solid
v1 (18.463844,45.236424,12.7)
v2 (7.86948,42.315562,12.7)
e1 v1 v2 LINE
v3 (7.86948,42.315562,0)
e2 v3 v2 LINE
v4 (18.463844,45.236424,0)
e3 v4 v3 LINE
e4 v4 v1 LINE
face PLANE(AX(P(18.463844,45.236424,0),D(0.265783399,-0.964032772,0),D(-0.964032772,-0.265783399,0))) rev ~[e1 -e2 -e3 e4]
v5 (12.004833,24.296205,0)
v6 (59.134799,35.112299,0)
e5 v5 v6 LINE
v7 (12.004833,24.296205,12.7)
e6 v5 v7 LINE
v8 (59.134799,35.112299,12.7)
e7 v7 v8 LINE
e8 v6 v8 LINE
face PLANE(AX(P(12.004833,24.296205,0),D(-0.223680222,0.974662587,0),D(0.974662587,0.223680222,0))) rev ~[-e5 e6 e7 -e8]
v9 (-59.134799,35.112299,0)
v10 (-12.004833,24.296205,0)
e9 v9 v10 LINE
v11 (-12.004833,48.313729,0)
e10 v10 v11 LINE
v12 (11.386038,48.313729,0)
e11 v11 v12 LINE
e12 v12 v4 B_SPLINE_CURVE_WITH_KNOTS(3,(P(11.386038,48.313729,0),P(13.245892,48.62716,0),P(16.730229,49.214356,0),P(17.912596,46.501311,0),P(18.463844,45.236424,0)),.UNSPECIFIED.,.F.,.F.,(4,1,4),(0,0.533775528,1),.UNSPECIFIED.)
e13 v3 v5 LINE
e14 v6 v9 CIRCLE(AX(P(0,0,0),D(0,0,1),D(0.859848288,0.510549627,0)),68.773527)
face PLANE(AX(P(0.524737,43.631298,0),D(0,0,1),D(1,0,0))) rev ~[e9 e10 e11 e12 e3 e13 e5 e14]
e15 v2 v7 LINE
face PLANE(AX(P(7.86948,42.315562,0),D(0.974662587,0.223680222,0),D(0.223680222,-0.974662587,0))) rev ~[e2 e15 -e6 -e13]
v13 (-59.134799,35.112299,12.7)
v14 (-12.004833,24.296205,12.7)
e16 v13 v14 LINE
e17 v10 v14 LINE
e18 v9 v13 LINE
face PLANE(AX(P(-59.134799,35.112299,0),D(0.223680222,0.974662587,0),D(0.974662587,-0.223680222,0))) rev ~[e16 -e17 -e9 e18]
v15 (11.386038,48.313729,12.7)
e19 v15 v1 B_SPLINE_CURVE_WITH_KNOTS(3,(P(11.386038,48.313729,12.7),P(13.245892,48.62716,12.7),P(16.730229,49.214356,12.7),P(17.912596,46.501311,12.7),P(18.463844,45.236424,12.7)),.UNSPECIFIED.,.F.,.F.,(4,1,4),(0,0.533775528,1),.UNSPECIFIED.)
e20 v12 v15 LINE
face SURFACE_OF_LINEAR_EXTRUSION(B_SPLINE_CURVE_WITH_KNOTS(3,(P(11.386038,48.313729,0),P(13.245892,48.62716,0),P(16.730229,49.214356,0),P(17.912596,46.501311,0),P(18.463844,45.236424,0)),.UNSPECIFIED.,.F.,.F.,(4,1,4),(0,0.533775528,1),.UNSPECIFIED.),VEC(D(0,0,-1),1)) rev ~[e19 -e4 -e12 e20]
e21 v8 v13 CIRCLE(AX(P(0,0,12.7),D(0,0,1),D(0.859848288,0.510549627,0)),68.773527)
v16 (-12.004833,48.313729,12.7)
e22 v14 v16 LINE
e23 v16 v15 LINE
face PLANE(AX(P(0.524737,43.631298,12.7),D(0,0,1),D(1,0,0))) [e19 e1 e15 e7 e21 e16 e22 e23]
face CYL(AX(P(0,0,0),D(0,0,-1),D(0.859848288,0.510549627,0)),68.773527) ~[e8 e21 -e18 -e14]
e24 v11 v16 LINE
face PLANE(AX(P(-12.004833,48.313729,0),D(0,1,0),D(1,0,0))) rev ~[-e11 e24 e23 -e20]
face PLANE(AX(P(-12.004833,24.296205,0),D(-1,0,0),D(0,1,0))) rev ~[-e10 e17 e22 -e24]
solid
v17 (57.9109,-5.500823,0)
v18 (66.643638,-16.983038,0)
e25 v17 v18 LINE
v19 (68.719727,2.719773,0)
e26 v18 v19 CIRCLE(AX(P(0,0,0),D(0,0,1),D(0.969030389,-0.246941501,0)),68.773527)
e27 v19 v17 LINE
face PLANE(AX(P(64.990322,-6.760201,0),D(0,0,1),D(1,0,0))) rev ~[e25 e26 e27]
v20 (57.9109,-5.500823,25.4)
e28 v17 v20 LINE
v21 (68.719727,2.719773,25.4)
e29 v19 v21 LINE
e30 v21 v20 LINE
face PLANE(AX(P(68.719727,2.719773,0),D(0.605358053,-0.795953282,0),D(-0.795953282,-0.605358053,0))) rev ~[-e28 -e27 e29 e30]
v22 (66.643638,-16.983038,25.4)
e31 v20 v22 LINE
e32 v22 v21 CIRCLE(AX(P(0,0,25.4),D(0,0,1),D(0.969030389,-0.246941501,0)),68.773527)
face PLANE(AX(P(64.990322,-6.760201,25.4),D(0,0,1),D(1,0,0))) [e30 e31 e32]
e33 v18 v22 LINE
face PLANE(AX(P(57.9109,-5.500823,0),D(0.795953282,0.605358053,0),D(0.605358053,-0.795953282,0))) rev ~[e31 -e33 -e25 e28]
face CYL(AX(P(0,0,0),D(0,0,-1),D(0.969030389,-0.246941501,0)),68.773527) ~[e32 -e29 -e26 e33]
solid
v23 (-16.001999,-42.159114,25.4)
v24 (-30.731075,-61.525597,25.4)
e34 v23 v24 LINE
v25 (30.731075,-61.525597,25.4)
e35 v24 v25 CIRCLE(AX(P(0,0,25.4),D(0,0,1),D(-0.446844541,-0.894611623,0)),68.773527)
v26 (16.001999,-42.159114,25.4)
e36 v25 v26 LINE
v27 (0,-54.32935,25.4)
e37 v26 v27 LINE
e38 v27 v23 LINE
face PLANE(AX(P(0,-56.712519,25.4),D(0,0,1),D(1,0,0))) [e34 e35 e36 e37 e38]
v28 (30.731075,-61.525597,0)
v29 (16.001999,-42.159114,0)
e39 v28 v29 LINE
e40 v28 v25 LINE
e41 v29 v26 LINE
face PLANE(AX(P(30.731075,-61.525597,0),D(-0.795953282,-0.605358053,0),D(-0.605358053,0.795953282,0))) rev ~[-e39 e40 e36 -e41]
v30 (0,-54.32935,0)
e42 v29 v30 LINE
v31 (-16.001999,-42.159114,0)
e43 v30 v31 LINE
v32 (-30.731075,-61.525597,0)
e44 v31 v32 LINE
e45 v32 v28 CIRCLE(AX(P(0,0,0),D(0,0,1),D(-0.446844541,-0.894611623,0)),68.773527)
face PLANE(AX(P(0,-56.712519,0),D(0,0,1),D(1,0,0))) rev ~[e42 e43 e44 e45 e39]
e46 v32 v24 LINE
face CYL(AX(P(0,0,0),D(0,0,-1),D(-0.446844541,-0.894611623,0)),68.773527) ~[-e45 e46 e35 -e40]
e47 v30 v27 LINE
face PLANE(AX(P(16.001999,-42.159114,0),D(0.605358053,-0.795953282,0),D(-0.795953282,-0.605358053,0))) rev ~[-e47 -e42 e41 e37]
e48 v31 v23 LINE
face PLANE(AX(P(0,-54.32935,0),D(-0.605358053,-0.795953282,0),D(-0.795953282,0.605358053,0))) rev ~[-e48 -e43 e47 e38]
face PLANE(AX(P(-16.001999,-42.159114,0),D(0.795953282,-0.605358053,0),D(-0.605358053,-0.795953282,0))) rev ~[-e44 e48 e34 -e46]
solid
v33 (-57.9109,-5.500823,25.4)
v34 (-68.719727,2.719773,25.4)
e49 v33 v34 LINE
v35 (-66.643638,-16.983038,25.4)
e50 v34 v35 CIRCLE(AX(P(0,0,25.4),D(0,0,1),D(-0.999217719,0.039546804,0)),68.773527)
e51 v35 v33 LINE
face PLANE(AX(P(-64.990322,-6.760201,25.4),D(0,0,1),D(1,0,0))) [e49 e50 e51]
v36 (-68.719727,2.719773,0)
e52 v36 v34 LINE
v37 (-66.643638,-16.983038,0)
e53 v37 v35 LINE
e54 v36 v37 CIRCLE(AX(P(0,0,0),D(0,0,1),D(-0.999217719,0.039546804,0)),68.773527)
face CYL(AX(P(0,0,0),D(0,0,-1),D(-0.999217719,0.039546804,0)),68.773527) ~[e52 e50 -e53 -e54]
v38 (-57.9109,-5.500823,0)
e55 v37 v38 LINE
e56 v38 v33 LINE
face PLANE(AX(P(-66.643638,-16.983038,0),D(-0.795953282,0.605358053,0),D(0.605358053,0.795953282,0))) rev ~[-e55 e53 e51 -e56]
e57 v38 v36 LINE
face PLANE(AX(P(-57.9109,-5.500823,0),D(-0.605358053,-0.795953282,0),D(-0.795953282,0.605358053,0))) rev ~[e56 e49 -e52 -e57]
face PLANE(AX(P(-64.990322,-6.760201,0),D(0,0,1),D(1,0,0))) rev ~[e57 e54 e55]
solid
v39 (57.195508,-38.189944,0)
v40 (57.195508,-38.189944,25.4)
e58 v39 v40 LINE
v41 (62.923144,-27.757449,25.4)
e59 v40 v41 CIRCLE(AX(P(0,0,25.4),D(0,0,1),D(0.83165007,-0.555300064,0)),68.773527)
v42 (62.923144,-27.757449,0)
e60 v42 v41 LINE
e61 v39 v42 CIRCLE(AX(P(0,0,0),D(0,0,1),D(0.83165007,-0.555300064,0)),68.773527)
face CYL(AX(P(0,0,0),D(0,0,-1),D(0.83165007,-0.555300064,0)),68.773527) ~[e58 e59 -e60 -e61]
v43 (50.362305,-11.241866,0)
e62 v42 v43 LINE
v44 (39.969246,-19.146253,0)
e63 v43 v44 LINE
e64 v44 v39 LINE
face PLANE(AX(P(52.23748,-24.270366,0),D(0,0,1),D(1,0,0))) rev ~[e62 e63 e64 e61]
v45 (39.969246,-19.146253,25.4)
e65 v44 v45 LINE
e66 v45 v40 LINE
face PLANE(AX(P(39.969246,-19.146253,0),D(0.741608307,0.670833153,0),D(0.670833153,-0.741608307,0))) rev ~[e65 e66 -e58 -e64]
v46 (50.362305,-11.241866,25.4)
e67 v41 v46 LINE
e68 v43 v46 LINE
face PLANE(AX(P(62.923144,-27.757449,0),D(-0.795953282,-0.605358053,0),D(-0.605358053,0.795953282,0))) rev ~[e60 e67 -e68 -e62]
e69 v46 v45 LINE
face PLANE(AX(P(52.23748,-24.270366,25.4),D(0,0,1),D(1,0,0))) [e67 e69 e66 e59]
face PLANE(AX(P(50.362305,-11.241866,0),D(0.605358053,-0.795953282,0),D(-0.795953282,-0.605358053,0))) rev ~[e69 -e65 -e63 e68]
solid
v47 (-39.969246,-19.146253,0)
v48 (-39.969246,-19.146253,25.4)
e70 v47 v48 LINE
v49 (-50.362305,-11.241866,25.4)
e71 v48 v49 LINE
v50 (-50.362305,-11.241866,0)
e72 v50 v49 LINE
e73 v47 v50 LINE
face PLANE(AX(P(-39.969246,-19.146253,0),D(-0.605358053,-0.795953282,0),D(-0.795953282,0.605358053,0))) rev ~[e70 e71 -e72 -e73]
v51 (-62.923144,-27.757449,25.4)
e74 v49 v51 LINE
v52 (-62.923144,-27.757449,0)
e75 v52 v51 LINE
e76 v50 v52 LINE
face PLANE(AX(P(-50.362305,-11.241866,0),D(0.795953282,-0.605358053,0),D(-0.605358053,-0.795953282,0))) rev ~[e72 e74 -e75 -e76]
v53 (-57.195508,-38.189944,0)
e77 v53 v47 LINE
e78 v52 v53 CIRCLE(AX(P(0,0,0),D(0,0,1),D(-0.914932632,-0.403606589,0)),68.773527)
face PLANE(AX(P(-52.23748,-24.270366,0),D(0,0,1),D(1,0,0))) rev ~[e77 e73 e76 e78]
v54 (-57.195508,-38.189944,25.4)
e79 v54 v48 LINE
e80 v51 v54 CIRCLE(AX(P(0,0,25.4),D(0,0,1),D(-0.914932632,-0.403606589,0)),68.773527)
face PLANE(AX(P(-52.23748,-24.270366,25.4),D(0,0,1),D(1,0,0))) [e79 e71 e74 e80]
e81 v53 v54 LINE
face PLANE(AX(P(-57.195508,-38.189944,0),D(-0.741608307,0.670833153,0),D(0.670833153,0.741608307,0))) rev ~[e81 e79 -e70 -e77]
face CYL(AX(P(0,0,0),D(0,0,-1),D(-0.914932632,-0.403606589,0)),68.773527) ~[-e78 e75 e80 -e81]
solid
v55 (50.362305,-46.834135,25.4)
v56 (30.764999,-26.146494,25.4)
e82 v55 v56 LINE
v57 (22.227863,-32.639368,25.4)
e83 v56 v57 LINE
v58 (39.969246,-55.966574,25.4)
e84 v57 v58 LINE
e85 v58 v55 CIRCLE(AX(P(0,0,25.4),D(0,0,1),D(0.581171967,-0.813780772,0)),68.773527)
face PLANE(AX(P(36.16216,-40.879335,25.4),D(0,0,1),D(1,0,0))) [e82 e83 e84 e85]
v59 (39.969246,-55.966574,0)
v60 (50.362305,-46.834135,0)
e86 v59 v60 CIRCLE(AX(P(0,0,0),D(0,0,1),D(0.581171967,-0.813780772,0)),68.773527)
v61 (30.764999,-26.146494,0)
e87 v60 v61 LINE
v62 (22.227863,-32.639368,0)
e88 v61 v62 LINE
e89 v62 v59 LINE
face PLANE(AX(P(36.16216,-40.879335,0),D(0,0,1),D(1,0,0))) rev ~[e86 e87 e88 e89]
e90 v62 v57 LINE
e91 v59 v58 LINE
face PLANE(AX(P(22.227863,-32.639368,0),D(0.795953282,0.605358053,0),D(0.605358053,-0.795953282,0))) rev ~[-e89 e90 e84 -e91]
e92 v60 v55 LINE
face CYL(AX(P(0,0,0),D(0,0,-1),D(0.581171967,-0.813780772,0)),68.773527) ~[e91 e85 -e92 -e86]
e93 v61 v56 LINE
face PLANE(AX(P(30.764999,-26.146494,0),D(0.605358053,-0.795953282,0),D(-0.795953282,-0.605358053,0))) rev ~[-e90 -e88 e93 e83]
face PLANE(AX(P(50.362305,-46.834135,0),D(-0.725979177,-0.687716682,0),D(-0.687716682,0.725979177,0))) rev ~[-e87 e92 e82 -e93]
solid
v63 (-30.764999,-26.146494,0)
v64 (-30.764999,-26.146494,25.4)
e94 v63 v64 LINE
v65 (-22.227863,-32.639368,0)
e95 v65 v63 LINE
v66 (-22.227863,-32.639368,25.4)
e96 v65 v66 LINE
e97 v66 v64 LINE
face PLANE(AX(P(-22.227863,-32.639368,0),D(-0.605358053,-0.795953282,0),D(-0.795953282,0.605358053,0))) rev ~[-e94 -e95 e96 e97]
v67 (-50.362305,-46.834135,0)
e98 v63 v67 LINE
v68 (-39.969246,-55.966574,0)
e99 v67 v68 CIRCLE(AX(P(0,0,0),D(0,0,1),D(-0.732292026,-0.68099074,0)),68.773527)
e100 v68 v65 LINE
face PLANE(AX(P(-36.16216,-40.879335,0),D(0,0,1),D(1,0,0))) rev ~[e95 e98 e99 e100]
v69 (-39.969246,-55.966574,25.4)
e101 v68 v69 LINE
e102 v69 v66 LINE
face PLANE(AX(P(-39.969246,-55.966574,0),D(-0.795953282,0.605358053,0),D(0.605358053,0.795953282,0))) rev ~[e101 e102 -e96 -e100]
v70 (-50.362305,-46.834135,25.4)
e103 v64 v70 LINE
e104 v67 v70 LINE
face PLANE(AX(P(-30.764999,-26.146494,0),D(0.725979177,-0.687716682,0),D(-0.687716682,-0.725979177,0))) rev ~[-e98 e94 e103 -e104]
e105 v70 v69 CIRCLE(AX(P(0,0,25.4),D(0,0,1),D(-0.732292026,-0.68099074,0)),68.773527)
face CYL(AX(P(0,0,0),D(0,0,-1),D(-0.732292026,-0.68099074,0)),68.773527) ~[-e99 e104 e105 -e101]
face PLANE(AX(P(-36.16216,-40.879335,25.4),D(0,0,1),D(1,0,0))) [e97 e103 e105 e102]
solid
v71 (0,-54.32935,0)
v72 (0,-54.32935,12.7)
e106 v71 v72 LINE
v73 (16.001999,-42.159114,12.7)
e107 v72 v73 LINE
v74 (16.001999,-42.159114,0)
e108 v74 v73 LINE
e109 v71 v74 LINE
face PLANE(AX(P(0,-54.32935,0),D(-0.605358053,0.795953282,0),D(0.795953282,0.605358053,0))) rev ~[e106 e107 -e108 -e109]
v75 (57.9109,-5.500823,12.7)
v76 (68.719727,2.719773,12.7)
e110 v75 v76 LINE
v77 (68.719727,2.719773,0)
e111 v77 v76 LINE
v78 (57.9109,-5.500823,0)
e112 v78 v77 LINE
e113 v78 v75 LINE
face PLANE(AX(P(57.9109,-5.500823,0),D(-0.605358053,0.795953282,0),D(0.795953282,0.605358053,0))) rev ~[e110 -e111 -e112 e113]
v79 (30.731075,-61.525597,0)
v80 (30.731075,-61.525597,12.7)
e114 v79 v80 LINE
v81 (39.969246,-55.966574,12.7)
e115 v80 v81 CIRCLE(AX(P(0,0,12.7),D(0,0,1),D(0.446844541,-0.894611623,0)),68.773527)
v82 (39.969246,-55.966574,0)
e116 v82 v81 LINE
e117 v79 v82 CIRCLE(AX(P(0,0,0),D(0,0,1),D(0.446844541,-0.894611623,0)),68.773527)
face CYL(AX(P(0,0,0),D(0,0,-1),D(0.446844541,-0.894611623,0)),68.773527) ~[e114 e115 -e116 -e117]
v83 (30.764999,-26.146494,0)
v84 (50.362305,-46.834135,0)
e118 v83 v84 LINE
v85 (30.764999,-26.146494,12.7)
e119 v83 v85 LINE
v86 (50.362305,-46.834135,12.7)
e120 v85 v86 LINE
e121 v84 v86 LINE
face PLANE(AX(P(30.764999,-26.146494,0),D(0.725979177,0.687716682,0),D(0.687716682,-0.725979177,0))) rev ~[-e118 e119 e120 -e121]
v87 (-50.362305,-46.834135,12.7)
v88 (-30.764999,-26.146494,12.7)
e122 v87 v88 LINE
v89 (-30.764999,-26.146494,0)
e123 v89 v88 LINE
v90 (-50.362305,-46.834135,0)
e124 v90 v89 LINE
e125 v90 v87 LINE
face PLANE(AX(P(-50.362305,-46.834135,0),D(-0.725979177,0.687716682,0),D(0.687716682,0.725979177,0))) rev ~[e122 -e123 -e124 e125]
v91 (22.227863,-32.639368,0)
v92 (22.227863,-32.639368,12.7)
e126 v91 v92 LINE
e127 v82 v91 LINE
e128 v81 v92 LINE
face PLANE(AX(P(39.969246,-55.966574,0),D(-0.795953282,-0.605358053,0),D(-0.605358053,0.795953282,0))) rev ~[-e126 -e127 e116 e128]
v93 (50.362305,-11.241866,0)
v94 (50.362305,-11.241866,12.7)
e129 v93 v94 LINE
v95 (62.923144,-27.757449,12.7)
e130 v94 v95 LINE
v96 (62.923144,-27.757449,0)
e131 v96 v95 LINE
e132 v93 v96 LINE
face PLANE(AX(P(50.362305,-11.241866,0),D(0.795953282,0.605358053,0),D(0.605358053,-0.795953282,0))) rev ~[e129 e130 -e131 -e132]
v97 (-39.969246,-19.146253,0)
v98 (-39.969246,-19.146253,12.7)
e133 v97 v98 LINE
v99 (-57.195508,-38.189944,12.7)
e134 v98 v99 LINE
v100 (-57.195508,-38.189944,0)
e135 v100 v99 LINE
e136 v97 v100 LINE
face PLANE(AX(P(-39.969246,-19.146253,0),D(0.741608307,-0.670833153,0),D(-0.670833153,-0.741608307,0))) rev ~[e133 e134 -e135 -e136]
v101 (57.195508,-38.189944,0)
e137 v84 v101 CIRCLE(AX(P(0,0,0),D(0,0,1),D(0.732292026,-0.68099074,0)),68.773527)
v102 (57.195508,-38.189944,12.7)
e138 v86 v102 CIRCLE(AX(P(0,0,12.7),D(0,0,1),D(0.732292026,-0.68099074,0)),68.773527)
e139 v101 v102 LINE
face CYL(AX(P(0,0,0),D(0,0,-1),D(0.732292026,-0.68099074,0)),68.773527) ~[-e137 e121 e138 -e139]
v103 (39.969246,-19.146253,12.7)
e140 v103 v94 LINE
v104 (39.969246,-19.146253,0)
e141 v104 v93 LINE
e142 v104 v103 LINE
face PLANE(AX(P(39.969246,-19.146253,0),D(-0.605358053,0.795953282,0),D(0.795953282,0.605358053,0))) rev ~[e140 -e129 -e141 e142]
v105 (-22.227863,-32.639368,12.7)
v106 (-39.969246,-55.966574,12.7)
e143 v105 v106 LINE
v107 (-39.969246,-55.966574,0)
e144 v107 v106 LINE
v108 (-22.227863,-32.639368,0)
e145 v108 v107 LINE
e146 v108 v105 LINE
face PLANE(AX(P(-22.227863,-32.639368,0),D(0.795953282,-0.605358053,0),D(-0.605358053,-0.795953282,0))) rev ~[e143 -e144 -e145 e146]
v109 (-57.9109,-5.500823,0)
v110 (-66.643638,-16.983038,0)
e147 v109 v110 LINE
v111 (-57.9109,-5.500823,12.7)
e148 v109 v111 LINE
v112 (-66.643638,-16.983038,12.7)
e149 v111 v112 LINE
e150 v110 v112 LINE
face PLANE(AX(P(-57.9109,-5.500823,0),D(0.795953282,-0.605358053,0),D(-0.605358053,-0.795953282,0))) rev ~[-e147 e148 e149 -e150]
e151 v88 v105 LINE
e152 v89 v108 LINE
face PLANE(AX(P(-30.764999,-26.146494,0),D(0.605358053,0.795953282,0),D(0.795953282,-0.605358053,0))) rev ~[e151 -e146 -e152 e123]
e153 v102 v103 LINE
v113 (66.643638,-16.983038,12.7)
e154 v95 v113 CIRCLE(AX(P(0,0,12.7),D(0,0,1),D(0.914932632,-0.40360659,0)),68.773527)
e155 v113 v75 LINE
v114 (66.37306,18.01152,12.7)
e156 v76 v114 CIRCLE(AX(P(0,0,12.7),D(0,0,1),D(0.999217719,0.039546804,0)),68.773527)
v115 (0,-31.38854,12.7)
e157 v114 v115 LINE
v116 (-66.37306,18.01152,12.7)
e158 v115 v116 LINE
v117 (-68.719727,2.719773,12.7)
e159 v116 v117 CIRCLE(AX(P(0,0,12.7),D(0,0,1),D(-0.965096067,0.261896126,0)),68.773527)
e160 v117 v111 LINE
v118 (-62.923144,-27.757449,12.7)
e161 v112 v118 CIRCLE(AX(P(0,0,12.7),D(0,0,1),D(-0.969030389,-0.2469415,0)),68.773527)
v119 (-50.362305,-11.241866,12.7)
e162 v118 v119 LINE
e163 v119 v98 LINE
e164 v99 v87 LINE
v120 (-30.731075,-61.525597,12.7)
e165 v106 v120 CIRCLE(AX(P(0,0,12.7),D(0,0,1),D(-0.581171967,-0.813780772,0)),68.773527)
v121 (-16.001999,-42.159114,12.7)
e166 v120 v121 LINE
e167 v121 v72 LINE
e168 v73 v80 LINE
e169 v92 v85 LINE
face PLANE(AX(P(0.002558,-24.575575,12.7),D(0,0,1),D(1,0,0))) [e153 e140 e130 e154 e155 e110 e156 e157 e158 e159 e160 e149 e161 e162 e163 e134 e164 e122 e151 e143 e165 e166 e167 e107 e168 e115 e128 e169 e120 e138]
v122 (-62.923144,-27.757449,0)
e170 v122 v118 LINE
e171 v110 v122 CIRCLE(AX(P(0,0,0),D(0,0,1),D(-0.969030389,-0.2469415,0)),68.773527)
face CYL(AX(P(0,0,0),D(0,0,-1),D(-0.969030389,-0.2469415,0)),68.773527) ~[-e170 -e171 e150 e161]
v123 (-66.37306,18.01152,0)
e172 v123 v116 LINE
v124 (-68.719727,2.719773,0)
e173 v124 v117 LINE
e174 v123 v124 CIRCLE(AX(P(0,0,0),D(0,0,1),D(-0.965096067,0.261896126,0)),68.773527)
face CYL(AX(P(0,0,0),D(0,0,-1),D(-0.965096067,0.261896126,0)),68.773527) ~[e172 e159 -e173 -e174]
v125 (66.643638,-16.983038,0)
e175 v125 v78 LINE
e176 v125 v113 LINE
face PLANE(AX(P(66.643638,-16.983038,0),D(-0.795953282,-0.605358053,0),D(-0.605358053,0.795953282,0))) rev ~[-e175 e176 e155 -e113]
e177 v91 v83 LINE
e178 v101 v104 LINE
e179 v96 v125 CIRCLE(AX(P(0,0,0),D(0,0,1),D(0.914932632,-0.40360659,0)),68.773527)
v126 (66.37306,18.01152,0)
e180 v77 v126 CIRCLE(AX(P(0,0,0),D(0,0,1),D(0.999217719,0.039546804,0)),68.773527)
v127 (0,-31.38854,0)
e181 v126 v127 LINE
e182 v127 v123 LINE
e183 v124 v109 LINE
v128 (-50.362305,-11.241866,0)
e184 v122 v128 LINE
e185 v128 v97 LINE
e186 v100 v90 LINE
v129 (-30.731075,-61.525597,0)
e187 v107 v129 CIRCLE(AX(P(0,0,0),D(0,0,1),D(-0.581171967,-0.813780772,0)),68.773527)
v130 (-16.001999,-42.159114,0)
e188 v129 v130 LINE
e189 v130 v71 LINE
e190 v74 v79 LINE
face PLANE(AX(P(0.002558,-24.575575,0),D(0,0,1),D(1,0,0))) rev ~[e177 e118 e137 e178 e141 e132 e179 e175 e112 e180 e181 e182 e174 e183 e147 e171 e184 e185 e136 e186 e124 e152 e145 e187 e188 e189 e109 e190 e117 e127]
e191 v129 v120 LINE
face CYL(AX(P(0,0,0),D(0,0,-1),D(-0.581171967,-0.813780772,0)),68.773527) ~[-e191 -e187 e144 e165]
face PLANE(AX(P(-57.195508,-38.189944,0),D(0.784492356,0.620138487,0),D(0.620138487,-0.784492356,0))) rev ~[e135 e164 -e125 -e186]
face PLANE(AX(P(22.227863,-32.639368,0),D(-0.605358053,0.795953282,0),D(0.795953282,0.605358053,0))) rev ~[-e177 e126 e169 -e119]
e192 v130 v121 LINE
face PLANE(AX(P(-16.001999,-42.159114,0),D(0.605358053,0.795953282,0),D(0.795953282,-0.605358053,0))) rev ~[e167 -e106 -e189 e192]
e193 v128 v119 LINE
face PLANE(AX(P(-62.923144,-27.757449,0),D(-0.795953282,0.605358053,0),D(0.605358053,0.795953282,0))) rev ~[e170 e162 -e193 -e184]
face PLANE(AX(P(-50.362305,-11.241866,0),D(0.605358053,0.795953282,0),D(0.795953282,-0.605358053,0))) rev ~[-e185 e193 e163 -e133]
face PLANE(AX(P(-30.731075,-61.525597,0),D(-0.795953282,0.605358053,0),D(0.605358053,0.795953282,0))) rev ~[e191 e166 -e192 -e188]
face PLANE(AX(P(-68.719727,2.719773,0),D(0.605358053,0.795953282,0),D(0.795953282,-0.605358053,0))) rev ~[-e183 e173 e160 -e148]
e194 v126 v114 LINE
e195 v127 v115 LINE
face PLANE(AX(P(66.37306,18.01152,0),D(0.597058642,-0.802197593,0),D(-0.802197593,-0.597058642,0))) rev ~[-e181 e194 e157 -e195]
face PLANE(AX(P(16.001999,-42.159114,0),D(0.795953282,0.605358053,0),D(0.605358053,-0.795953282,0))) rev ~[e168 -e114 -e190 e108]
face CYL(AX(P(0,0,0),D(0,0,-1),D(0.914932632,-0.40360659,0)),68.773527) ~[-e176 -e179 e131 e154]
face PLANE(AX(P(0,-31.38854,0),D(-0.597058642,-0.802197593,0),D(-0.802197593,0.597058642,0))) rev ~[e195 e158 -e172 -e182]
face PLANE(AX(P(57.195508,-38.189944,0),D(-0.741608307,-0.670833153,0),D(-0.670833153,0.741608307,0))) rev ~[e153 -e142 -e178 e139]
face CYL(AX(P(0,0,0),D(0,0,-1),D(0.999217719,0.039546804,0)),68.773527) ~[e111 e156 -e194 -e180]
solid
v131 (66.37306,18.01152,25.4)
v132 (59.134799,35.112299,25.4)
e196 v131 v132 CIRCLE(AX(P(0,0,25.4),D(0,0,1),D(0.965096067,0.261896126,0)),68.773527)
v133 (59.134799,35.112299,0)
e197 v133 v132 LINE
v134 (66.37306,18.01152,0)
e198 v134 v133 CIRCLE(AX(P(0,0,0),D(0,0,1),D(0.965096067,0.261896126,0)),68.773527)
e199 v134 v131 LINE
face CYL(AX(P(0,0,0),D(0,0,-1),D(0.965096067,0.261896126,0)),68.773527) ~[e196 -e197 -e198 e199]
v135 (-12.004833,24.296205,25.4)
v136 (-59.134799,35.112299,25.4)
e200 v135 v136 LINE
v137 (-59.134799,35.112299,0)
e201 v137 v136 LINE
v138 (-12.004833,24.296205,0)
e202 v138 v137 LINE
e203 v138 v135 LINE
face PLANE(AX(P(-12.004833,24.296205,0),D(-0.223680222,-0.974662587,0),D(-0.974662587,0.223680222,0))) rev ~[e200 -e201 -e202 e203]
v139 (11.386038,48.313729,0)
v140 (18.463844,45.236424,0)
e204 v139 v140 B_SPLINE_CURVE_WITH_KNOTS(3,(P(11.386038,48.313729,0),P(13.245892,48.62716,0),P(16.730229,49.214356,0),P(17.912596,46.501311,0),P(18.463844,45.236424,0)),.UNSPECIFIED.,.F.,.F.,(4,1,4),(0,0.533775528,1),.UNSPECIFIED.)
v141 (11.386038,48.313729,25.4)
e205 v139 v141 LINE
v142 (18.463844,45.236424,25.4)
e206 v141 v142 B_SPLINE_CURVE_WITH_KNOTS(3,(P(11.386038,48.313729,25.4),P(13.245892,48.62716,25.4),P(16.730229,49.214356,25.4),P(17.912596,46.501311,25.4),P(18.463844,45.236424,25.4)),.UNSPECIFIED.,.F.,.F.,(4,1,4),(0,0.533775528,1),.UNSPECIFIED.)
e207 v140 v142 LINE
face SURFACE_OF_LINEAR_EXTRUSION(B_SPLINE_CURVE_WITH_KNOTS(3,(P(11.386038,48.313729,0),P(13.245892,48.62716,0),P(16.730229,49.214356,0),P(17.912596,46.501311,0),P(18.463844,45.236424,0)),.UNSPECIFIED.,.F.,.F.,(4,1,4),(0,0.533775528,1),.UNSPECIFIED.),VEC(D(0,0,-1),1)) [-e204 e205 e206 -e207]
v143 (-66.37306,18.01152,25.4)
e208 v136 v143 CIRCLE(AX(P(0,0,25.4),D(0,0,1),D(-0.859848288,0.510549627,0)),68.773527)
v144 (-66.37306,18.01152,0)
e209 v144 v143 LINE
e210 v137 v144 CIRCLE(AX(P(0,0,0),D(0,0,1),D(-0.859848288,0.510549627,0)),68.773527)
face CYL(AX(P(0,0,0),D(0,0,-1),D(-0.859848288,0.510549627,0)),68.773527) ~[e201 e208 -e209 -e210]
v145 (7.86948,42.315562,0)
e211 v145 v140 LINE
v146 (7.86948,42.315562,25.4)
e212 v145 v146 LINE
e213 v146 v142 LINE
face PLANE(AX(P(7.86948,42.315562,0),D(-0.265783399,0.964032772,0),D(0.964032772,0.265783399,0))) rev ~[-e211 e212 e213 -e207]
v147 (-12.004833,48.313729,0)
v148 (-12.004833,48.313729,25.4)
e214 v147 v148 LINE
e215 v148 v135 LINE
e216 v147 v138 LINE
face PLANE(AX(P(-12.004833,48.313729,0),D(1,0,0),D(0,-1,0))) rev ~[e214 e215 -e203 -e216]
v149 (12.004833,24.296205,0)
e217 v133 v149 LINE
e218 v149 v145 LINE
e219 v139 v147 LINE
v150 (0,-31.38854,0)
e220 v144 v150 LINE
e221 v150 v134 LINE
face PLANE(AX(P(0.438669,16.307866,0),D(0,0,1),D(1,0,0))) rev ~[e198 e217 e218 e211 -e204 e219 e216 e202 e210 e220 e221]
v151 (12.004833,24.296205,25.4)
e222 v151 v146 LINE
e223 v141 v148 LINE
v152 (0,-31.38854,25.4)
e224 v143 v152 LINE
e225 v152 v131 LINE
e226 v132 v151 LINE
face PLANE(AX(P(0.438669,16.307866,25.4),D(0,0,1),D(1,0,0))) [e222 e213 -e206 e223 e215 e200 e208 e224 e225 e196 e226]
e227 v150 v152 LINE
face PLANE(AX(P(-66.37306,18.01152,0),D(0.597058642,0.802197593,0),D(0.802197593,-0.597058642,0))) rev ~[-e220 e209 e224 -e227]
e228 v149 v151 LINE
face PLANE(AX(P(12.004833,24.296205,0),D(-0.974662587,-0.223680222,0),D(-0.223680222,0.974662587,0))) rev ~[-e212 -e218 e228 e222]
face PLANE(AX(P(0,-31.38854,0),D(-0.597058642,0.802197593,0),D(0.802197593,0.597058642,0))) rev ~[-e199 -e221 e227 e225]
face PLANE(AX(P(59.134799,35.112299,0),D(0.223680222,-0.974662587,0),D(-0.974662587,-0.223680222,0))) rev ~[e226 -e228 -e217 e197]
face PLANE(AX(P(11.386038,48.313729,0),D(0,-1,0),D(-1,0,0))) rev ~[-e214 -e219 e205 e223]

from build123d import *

# Parameters (mm, degrees)
F1_DEPTH = 25.4
F2_DEPTH = 12.7


with BuildPart() as f1:
    # F0 (on Top) → F1 (new body)
    with BuildSketch(Plane.XY):
        with BuildLine():
            ThreePointArc((-59.1347993745, 35.1122985584), (-63.3337577346, 26.8073336669), (-66.3730603731, 18.0115203087))
            Line((-66.3730603731, 18.0115203087), (0, -31.3885398209))
            Line((0, -31.3885398209), (66.3730603731, 18.0115203087))
            ThreePointArc((66.3730603731, 18.0115203087), (63.3337577346, 26.8073336669), (59.1347993745, 35.1122985584))
            Line((59.1347993745, 35.1122985584), (12.0048329489, 24.2962053983))
            Line((12.0048329489, 24.2962053983), (7.8694800897, 42.3155621592))
            Line((7.8694800897, 42.3155621592), (18.4638444334, 45.2364236116))
            add(Edge.make_bspline(
                [(11.3860378042, 48.313729465), (13.2458917171, 48.6271602597), (16.730228889, 49.2143561471), (17.9125959667, 46.5013114457), (18.4638444334, 45.2364236116)],
                knots=[0, 0, 0, 0, 0.5337755278, 1, 1, 1, 1], degree=3))
            Line((11.3860378042, 48.313729465), (-12.0048329489, 48.313729465))
            Line((-12.0048329489, 48.313729465), (-12.0048329489, 24.2962053983))
            Line((-12.0048329489, 24.2962053983), (-59.1347993745, 35.1122985584))
        make_face()
    extrude(amount=F1_DEPTH)


with BuildPart() as f1b:
    # F0 (on Top) → F1, piece 2 (new body)
    with BuildSketch(Plane.XY):
        with BuildLine():
            Line((-50.3623053931, -11.241866409), (-62.9231440041, -27.7574486535))
            ThreePointArc((-62.9231440041, -27.7574486535), (-60.2854203646, -33.0978261913), (-57.1955084894, -38.1899439087))
            Line((-57.1955084894, -38.1899439087), (-39.9692459516, -19.1462527265))
            Line((-39.9692459516, -19.1462527265), (-50.3623053931, -11.241866409))
        make_face()
    extrude(amount=F1_DEPTH)


with BuildPart() as f1c:
    # F0 (on Top) → F1, piece 3 (new body)
    with BuildSketch(Plane.XY):
        with BuildLine():
            ThreePointArc((-68.7197267242, 2.7197731651), (-68.3948849703, -7.2067827093), (-66.6436375776, -16.9830379362))
            Line((-66.6436375776, -16.9830379362), (-57.910899767, -5.5008229346))
            Line((-57.910899767, -5.5008229346), (-68.7197267242, 2.7197731651))
        make_face()
    extrude(amount=F1_DEPTH)


with BuildPart() as f1d:
    # F0 (on Top) → F1, piece 4 (new body)
    with BuildSketch(Plane.XY):
        with BuildLine():
            Line((-30.7649994294, -26.146493674), (-50.3623053931, -46.834135015))
            ThreePointArc((-50.3623053931, -46.834135015), (-45.3960092047, -51.662368852), (-39.9692459516, -55.9665738203))
            Line((-39.9692459516, -55.9665738203), (-22.2278628602, -32.6393676798))
            Line((-22.2278628602, -32.6393676798), (-30.7649994294, -26.146493674))
        make_face()
    extrude(amount=F1_DEPTH)


with BuildPart() as f1e:
    # F0 (on Top) → F1, piece 5 (new body)
    with BuildSketch(Plane.XY):
        with BuildLine():
            Line((-16.0019993782, -42.159114033), (-30.7310750928, -61.5255965494))
            ThreePointArc((-30.7310750928, -61.5255965494), (0, -68.7735269353), (30.7310750928, -61.5255965494))
            Line((30.7310750928, -61.5255965494), (16.0019993782, -42.159114033))
            Line((16.0019993782, -42.159114033), (0, -54.3293499149))
            Line((0, -54.3293499149), (-16.0019993782, -42.159114033))
        make_face()
    extrude(amount=F1_DEPTH)


with BuildPart() as f1f:
    # F0 (on Top) → F1, piece 6 (new body)
    with BuildSketch(Plane.XY):
        with BuildLine():
            Line((22.2278628602, -32.6393676798), (39.9692459516, -55.9665738203))
            ThreePointArc((39.9692459516, -55.9665738203), (45.3960092047, -51.662368852), (50.3623053931, -46.834135015))
            Line((50.3623053931, -46.834135015), (30.7649994294, -26.146493674))
            Line((30.7649994294, -26.146493674), (22.2278628602, -32.6393676798))
        make_face()
    extrude(amount=F1_DEPTH)


with BuildPart() as f1g:
    # F0 (on Top) → F1, piece 7 (new body)
    with BuildSketch(Plane.XY):
        with BuildLine():
            Line((39.9692459516, -19.1462527265), (57.1955084894, -38.1899439087))
            ThreePointArc((57.1955084894, -38.1899439087), (60.2854203646, -33.0978261913), (62.9231440041, -27.7574486535))
            Line((62.9231440041, -27.7574486535), (50.3623053931, -11.241866409))
            Line((50.3623053931, -11.241866409), (39.9692459516, -19.1462527265))
        make_face()
    extrude(amount=F1_DEPTH)


with BuildPart() as f1h:
    # F0 (on Top) → F1, piece 8 (new body)
    with BuildSketch(Plane.XY):
        with BuildLine():
            ThreePointArc((66.6436375776, -16.9830379362), (68.3948849703, -7.2067827093), (68.7197267242, 2.7197731651))
            Line((68.7197267242, 2.7197731651), (57.910899767, -5.5008229346))
            Line((57.910899767, -5.5008229346), (66.6436375776, -16.9830379362))
        make_face()
    extrude(amount=F1_DEPTH)


with BuildPart() as f2:
    # F0 (on Top) → F2 (new body)
    with BuildSketch(Plane.XY):
        with BuildLine():
            ThreePointArc((59.1347993745, 35.1122985584), (0, 68.7735269353), (-59.1347993745, 35.1122985584))
            Line((-59.1347993745, 35.1122985584), (-12.0048329489, 24.2962053983))
            Line((-12.0048329489, 24.2962053983), (-12.0048329489, 48.313729465))
            Line((-12.0048329489, 48.313729465), (11.3860378042, 48.313729465))
            add(Edge.make_bspline(
                [(11.3860378042, 48.313729465), (13.2458917171, 48.6271602597), (16.730228889, 49.2143561471), (17.9125959667, 46.5013114457), (18.4638444334, 45.2364236116)],
                knots=[0, 0, 0, 0, 0.5337755278, 1, 1, 1, 1], degree=3))
            Line((18.4638444334, 45.2364236116), (7.8694800897, 42.3155621592))
            Line((7.8694800897, 42.3155621592), (12.0048329489, 24.2962053983))
            Line((12.0048329489, 24.2962053983), (59.1347993745, 35.1122985584))
        make_face()
    extrude(amount=F2_DEPTH)


with BuildPart() as f2b:
    # F0 (on Top) → F2, piece 2 (new body)
    with BuildSketch(Plane.XY):
        with BuildLine():
            ThreePointArc((-66.6436375776, -16.9830379362), (-65.006997346, -22.4474564969), (-62.9231440041, -27.7574486535))
            Line((-62.9231440041, -27.7574486535), (-50.3623053931, -11.241866409))
            Line((-50.3623053931, -11.241866409), (-39.9692459516, -19.1462527265))
            Line((-39.9692459516, -19.1462527265), (-57.1955084894, -38.1899439087))
            Line((-57.1955084894, -38.1899439087), (-50.3623053931, -46.834135015))
            Line((-50.3623053931, -46.834135015), (-30.7649994294, -26.146493674))
            Line((-30.7649994294, -26.146493674), (-22.2278628602, -32.6393676798))
            Line((-22.2278628602, -32.6393676798), (-39.9692459516, -55.9665738203))
            ThreePointArc((-39.9692459516, -55.9665738203), (-35.4592658183, -58.9274000338), (-30.7310750928, -61.5255965494))
            Line((-30.7310750928, -61.5255965494), (-16.0019993782, -42.159114033))
            Line((-16.0019993782, -42.159114033), (0, -54.3293499149))
            Line((0, -54.3293499149), (16.0019993782, -42.159114033))
            Line((16.0019993782, -42.159114033), (30.7310750928, -61.5255965494))
            ThreePointArc((30.7310750928, -61.5255965494), (35.4592658183, -58.9274000338), (39.9692459516, -55.9665738203))
            Line((39.9692459516, -55.9665738203), (22.2278628602, -32.6393676798))
            Line((22.2278628602, -32.6393676798), (30.7649994294, -26.146493674))
            Line((30.7649994294, -26.146493674), (50.3623053931, -46.834135015))
            ThreePointArc((50.3623053931, -46.834135015), (53.9523061766, -42.6491109561), (57.1955084894, -38.1899439087))
            Line((57.1955084894, -38.1899439087), (39.9692459516, -19.1462527265))
            Line((39.9692459516, -19.1462527265), (50.3623053931, -11.241866409))
            Line((50.3623053931, -11.241866409), (62.9231440041, -27.7574486535))
            ThreePointArc((62.9231440041, -27.7574486535), (65.006997346, -22.4474564969), (66.6436375776, -16.9830379362))
            Line((66.6436375776, -16.9830379362), (57.910899767, -5.5008229346))
            Line((57.910899767, -5.5008229346), (68.7197267242, 2.7197731651))
            ThreePointArc((68.7197267242, 2.7197731651), (67.9777512434, 10.431842743), (66.3730603731, 18.0115203087))
            Line((66.3730603731, 18.0115203087), (0, -31.3885398209))
            Line((0, -31.3885398209), (-66.3730603731, 18.0115203087))
            ThreePointArc((-66.3730603731, 18.0115203087), (-67.9777512434, 10.431842743), (-68.7197267242, 2.7197731651))
            Line((-68.7197267242, 2.7197731651), (-57.910899767, -5.5008229346))
            Line((-57.910899767, -5.5008229346), (-66.6436375776, -16.9830379362))
        make_face()
    extrude(amount=F2_DEPTH)


solid = Compound([f1.part, f1b.part, f1c.part, f1d.part, f1e.part, f1f.part, f1g.part, f1h.part, f2.part, f2b.part])
